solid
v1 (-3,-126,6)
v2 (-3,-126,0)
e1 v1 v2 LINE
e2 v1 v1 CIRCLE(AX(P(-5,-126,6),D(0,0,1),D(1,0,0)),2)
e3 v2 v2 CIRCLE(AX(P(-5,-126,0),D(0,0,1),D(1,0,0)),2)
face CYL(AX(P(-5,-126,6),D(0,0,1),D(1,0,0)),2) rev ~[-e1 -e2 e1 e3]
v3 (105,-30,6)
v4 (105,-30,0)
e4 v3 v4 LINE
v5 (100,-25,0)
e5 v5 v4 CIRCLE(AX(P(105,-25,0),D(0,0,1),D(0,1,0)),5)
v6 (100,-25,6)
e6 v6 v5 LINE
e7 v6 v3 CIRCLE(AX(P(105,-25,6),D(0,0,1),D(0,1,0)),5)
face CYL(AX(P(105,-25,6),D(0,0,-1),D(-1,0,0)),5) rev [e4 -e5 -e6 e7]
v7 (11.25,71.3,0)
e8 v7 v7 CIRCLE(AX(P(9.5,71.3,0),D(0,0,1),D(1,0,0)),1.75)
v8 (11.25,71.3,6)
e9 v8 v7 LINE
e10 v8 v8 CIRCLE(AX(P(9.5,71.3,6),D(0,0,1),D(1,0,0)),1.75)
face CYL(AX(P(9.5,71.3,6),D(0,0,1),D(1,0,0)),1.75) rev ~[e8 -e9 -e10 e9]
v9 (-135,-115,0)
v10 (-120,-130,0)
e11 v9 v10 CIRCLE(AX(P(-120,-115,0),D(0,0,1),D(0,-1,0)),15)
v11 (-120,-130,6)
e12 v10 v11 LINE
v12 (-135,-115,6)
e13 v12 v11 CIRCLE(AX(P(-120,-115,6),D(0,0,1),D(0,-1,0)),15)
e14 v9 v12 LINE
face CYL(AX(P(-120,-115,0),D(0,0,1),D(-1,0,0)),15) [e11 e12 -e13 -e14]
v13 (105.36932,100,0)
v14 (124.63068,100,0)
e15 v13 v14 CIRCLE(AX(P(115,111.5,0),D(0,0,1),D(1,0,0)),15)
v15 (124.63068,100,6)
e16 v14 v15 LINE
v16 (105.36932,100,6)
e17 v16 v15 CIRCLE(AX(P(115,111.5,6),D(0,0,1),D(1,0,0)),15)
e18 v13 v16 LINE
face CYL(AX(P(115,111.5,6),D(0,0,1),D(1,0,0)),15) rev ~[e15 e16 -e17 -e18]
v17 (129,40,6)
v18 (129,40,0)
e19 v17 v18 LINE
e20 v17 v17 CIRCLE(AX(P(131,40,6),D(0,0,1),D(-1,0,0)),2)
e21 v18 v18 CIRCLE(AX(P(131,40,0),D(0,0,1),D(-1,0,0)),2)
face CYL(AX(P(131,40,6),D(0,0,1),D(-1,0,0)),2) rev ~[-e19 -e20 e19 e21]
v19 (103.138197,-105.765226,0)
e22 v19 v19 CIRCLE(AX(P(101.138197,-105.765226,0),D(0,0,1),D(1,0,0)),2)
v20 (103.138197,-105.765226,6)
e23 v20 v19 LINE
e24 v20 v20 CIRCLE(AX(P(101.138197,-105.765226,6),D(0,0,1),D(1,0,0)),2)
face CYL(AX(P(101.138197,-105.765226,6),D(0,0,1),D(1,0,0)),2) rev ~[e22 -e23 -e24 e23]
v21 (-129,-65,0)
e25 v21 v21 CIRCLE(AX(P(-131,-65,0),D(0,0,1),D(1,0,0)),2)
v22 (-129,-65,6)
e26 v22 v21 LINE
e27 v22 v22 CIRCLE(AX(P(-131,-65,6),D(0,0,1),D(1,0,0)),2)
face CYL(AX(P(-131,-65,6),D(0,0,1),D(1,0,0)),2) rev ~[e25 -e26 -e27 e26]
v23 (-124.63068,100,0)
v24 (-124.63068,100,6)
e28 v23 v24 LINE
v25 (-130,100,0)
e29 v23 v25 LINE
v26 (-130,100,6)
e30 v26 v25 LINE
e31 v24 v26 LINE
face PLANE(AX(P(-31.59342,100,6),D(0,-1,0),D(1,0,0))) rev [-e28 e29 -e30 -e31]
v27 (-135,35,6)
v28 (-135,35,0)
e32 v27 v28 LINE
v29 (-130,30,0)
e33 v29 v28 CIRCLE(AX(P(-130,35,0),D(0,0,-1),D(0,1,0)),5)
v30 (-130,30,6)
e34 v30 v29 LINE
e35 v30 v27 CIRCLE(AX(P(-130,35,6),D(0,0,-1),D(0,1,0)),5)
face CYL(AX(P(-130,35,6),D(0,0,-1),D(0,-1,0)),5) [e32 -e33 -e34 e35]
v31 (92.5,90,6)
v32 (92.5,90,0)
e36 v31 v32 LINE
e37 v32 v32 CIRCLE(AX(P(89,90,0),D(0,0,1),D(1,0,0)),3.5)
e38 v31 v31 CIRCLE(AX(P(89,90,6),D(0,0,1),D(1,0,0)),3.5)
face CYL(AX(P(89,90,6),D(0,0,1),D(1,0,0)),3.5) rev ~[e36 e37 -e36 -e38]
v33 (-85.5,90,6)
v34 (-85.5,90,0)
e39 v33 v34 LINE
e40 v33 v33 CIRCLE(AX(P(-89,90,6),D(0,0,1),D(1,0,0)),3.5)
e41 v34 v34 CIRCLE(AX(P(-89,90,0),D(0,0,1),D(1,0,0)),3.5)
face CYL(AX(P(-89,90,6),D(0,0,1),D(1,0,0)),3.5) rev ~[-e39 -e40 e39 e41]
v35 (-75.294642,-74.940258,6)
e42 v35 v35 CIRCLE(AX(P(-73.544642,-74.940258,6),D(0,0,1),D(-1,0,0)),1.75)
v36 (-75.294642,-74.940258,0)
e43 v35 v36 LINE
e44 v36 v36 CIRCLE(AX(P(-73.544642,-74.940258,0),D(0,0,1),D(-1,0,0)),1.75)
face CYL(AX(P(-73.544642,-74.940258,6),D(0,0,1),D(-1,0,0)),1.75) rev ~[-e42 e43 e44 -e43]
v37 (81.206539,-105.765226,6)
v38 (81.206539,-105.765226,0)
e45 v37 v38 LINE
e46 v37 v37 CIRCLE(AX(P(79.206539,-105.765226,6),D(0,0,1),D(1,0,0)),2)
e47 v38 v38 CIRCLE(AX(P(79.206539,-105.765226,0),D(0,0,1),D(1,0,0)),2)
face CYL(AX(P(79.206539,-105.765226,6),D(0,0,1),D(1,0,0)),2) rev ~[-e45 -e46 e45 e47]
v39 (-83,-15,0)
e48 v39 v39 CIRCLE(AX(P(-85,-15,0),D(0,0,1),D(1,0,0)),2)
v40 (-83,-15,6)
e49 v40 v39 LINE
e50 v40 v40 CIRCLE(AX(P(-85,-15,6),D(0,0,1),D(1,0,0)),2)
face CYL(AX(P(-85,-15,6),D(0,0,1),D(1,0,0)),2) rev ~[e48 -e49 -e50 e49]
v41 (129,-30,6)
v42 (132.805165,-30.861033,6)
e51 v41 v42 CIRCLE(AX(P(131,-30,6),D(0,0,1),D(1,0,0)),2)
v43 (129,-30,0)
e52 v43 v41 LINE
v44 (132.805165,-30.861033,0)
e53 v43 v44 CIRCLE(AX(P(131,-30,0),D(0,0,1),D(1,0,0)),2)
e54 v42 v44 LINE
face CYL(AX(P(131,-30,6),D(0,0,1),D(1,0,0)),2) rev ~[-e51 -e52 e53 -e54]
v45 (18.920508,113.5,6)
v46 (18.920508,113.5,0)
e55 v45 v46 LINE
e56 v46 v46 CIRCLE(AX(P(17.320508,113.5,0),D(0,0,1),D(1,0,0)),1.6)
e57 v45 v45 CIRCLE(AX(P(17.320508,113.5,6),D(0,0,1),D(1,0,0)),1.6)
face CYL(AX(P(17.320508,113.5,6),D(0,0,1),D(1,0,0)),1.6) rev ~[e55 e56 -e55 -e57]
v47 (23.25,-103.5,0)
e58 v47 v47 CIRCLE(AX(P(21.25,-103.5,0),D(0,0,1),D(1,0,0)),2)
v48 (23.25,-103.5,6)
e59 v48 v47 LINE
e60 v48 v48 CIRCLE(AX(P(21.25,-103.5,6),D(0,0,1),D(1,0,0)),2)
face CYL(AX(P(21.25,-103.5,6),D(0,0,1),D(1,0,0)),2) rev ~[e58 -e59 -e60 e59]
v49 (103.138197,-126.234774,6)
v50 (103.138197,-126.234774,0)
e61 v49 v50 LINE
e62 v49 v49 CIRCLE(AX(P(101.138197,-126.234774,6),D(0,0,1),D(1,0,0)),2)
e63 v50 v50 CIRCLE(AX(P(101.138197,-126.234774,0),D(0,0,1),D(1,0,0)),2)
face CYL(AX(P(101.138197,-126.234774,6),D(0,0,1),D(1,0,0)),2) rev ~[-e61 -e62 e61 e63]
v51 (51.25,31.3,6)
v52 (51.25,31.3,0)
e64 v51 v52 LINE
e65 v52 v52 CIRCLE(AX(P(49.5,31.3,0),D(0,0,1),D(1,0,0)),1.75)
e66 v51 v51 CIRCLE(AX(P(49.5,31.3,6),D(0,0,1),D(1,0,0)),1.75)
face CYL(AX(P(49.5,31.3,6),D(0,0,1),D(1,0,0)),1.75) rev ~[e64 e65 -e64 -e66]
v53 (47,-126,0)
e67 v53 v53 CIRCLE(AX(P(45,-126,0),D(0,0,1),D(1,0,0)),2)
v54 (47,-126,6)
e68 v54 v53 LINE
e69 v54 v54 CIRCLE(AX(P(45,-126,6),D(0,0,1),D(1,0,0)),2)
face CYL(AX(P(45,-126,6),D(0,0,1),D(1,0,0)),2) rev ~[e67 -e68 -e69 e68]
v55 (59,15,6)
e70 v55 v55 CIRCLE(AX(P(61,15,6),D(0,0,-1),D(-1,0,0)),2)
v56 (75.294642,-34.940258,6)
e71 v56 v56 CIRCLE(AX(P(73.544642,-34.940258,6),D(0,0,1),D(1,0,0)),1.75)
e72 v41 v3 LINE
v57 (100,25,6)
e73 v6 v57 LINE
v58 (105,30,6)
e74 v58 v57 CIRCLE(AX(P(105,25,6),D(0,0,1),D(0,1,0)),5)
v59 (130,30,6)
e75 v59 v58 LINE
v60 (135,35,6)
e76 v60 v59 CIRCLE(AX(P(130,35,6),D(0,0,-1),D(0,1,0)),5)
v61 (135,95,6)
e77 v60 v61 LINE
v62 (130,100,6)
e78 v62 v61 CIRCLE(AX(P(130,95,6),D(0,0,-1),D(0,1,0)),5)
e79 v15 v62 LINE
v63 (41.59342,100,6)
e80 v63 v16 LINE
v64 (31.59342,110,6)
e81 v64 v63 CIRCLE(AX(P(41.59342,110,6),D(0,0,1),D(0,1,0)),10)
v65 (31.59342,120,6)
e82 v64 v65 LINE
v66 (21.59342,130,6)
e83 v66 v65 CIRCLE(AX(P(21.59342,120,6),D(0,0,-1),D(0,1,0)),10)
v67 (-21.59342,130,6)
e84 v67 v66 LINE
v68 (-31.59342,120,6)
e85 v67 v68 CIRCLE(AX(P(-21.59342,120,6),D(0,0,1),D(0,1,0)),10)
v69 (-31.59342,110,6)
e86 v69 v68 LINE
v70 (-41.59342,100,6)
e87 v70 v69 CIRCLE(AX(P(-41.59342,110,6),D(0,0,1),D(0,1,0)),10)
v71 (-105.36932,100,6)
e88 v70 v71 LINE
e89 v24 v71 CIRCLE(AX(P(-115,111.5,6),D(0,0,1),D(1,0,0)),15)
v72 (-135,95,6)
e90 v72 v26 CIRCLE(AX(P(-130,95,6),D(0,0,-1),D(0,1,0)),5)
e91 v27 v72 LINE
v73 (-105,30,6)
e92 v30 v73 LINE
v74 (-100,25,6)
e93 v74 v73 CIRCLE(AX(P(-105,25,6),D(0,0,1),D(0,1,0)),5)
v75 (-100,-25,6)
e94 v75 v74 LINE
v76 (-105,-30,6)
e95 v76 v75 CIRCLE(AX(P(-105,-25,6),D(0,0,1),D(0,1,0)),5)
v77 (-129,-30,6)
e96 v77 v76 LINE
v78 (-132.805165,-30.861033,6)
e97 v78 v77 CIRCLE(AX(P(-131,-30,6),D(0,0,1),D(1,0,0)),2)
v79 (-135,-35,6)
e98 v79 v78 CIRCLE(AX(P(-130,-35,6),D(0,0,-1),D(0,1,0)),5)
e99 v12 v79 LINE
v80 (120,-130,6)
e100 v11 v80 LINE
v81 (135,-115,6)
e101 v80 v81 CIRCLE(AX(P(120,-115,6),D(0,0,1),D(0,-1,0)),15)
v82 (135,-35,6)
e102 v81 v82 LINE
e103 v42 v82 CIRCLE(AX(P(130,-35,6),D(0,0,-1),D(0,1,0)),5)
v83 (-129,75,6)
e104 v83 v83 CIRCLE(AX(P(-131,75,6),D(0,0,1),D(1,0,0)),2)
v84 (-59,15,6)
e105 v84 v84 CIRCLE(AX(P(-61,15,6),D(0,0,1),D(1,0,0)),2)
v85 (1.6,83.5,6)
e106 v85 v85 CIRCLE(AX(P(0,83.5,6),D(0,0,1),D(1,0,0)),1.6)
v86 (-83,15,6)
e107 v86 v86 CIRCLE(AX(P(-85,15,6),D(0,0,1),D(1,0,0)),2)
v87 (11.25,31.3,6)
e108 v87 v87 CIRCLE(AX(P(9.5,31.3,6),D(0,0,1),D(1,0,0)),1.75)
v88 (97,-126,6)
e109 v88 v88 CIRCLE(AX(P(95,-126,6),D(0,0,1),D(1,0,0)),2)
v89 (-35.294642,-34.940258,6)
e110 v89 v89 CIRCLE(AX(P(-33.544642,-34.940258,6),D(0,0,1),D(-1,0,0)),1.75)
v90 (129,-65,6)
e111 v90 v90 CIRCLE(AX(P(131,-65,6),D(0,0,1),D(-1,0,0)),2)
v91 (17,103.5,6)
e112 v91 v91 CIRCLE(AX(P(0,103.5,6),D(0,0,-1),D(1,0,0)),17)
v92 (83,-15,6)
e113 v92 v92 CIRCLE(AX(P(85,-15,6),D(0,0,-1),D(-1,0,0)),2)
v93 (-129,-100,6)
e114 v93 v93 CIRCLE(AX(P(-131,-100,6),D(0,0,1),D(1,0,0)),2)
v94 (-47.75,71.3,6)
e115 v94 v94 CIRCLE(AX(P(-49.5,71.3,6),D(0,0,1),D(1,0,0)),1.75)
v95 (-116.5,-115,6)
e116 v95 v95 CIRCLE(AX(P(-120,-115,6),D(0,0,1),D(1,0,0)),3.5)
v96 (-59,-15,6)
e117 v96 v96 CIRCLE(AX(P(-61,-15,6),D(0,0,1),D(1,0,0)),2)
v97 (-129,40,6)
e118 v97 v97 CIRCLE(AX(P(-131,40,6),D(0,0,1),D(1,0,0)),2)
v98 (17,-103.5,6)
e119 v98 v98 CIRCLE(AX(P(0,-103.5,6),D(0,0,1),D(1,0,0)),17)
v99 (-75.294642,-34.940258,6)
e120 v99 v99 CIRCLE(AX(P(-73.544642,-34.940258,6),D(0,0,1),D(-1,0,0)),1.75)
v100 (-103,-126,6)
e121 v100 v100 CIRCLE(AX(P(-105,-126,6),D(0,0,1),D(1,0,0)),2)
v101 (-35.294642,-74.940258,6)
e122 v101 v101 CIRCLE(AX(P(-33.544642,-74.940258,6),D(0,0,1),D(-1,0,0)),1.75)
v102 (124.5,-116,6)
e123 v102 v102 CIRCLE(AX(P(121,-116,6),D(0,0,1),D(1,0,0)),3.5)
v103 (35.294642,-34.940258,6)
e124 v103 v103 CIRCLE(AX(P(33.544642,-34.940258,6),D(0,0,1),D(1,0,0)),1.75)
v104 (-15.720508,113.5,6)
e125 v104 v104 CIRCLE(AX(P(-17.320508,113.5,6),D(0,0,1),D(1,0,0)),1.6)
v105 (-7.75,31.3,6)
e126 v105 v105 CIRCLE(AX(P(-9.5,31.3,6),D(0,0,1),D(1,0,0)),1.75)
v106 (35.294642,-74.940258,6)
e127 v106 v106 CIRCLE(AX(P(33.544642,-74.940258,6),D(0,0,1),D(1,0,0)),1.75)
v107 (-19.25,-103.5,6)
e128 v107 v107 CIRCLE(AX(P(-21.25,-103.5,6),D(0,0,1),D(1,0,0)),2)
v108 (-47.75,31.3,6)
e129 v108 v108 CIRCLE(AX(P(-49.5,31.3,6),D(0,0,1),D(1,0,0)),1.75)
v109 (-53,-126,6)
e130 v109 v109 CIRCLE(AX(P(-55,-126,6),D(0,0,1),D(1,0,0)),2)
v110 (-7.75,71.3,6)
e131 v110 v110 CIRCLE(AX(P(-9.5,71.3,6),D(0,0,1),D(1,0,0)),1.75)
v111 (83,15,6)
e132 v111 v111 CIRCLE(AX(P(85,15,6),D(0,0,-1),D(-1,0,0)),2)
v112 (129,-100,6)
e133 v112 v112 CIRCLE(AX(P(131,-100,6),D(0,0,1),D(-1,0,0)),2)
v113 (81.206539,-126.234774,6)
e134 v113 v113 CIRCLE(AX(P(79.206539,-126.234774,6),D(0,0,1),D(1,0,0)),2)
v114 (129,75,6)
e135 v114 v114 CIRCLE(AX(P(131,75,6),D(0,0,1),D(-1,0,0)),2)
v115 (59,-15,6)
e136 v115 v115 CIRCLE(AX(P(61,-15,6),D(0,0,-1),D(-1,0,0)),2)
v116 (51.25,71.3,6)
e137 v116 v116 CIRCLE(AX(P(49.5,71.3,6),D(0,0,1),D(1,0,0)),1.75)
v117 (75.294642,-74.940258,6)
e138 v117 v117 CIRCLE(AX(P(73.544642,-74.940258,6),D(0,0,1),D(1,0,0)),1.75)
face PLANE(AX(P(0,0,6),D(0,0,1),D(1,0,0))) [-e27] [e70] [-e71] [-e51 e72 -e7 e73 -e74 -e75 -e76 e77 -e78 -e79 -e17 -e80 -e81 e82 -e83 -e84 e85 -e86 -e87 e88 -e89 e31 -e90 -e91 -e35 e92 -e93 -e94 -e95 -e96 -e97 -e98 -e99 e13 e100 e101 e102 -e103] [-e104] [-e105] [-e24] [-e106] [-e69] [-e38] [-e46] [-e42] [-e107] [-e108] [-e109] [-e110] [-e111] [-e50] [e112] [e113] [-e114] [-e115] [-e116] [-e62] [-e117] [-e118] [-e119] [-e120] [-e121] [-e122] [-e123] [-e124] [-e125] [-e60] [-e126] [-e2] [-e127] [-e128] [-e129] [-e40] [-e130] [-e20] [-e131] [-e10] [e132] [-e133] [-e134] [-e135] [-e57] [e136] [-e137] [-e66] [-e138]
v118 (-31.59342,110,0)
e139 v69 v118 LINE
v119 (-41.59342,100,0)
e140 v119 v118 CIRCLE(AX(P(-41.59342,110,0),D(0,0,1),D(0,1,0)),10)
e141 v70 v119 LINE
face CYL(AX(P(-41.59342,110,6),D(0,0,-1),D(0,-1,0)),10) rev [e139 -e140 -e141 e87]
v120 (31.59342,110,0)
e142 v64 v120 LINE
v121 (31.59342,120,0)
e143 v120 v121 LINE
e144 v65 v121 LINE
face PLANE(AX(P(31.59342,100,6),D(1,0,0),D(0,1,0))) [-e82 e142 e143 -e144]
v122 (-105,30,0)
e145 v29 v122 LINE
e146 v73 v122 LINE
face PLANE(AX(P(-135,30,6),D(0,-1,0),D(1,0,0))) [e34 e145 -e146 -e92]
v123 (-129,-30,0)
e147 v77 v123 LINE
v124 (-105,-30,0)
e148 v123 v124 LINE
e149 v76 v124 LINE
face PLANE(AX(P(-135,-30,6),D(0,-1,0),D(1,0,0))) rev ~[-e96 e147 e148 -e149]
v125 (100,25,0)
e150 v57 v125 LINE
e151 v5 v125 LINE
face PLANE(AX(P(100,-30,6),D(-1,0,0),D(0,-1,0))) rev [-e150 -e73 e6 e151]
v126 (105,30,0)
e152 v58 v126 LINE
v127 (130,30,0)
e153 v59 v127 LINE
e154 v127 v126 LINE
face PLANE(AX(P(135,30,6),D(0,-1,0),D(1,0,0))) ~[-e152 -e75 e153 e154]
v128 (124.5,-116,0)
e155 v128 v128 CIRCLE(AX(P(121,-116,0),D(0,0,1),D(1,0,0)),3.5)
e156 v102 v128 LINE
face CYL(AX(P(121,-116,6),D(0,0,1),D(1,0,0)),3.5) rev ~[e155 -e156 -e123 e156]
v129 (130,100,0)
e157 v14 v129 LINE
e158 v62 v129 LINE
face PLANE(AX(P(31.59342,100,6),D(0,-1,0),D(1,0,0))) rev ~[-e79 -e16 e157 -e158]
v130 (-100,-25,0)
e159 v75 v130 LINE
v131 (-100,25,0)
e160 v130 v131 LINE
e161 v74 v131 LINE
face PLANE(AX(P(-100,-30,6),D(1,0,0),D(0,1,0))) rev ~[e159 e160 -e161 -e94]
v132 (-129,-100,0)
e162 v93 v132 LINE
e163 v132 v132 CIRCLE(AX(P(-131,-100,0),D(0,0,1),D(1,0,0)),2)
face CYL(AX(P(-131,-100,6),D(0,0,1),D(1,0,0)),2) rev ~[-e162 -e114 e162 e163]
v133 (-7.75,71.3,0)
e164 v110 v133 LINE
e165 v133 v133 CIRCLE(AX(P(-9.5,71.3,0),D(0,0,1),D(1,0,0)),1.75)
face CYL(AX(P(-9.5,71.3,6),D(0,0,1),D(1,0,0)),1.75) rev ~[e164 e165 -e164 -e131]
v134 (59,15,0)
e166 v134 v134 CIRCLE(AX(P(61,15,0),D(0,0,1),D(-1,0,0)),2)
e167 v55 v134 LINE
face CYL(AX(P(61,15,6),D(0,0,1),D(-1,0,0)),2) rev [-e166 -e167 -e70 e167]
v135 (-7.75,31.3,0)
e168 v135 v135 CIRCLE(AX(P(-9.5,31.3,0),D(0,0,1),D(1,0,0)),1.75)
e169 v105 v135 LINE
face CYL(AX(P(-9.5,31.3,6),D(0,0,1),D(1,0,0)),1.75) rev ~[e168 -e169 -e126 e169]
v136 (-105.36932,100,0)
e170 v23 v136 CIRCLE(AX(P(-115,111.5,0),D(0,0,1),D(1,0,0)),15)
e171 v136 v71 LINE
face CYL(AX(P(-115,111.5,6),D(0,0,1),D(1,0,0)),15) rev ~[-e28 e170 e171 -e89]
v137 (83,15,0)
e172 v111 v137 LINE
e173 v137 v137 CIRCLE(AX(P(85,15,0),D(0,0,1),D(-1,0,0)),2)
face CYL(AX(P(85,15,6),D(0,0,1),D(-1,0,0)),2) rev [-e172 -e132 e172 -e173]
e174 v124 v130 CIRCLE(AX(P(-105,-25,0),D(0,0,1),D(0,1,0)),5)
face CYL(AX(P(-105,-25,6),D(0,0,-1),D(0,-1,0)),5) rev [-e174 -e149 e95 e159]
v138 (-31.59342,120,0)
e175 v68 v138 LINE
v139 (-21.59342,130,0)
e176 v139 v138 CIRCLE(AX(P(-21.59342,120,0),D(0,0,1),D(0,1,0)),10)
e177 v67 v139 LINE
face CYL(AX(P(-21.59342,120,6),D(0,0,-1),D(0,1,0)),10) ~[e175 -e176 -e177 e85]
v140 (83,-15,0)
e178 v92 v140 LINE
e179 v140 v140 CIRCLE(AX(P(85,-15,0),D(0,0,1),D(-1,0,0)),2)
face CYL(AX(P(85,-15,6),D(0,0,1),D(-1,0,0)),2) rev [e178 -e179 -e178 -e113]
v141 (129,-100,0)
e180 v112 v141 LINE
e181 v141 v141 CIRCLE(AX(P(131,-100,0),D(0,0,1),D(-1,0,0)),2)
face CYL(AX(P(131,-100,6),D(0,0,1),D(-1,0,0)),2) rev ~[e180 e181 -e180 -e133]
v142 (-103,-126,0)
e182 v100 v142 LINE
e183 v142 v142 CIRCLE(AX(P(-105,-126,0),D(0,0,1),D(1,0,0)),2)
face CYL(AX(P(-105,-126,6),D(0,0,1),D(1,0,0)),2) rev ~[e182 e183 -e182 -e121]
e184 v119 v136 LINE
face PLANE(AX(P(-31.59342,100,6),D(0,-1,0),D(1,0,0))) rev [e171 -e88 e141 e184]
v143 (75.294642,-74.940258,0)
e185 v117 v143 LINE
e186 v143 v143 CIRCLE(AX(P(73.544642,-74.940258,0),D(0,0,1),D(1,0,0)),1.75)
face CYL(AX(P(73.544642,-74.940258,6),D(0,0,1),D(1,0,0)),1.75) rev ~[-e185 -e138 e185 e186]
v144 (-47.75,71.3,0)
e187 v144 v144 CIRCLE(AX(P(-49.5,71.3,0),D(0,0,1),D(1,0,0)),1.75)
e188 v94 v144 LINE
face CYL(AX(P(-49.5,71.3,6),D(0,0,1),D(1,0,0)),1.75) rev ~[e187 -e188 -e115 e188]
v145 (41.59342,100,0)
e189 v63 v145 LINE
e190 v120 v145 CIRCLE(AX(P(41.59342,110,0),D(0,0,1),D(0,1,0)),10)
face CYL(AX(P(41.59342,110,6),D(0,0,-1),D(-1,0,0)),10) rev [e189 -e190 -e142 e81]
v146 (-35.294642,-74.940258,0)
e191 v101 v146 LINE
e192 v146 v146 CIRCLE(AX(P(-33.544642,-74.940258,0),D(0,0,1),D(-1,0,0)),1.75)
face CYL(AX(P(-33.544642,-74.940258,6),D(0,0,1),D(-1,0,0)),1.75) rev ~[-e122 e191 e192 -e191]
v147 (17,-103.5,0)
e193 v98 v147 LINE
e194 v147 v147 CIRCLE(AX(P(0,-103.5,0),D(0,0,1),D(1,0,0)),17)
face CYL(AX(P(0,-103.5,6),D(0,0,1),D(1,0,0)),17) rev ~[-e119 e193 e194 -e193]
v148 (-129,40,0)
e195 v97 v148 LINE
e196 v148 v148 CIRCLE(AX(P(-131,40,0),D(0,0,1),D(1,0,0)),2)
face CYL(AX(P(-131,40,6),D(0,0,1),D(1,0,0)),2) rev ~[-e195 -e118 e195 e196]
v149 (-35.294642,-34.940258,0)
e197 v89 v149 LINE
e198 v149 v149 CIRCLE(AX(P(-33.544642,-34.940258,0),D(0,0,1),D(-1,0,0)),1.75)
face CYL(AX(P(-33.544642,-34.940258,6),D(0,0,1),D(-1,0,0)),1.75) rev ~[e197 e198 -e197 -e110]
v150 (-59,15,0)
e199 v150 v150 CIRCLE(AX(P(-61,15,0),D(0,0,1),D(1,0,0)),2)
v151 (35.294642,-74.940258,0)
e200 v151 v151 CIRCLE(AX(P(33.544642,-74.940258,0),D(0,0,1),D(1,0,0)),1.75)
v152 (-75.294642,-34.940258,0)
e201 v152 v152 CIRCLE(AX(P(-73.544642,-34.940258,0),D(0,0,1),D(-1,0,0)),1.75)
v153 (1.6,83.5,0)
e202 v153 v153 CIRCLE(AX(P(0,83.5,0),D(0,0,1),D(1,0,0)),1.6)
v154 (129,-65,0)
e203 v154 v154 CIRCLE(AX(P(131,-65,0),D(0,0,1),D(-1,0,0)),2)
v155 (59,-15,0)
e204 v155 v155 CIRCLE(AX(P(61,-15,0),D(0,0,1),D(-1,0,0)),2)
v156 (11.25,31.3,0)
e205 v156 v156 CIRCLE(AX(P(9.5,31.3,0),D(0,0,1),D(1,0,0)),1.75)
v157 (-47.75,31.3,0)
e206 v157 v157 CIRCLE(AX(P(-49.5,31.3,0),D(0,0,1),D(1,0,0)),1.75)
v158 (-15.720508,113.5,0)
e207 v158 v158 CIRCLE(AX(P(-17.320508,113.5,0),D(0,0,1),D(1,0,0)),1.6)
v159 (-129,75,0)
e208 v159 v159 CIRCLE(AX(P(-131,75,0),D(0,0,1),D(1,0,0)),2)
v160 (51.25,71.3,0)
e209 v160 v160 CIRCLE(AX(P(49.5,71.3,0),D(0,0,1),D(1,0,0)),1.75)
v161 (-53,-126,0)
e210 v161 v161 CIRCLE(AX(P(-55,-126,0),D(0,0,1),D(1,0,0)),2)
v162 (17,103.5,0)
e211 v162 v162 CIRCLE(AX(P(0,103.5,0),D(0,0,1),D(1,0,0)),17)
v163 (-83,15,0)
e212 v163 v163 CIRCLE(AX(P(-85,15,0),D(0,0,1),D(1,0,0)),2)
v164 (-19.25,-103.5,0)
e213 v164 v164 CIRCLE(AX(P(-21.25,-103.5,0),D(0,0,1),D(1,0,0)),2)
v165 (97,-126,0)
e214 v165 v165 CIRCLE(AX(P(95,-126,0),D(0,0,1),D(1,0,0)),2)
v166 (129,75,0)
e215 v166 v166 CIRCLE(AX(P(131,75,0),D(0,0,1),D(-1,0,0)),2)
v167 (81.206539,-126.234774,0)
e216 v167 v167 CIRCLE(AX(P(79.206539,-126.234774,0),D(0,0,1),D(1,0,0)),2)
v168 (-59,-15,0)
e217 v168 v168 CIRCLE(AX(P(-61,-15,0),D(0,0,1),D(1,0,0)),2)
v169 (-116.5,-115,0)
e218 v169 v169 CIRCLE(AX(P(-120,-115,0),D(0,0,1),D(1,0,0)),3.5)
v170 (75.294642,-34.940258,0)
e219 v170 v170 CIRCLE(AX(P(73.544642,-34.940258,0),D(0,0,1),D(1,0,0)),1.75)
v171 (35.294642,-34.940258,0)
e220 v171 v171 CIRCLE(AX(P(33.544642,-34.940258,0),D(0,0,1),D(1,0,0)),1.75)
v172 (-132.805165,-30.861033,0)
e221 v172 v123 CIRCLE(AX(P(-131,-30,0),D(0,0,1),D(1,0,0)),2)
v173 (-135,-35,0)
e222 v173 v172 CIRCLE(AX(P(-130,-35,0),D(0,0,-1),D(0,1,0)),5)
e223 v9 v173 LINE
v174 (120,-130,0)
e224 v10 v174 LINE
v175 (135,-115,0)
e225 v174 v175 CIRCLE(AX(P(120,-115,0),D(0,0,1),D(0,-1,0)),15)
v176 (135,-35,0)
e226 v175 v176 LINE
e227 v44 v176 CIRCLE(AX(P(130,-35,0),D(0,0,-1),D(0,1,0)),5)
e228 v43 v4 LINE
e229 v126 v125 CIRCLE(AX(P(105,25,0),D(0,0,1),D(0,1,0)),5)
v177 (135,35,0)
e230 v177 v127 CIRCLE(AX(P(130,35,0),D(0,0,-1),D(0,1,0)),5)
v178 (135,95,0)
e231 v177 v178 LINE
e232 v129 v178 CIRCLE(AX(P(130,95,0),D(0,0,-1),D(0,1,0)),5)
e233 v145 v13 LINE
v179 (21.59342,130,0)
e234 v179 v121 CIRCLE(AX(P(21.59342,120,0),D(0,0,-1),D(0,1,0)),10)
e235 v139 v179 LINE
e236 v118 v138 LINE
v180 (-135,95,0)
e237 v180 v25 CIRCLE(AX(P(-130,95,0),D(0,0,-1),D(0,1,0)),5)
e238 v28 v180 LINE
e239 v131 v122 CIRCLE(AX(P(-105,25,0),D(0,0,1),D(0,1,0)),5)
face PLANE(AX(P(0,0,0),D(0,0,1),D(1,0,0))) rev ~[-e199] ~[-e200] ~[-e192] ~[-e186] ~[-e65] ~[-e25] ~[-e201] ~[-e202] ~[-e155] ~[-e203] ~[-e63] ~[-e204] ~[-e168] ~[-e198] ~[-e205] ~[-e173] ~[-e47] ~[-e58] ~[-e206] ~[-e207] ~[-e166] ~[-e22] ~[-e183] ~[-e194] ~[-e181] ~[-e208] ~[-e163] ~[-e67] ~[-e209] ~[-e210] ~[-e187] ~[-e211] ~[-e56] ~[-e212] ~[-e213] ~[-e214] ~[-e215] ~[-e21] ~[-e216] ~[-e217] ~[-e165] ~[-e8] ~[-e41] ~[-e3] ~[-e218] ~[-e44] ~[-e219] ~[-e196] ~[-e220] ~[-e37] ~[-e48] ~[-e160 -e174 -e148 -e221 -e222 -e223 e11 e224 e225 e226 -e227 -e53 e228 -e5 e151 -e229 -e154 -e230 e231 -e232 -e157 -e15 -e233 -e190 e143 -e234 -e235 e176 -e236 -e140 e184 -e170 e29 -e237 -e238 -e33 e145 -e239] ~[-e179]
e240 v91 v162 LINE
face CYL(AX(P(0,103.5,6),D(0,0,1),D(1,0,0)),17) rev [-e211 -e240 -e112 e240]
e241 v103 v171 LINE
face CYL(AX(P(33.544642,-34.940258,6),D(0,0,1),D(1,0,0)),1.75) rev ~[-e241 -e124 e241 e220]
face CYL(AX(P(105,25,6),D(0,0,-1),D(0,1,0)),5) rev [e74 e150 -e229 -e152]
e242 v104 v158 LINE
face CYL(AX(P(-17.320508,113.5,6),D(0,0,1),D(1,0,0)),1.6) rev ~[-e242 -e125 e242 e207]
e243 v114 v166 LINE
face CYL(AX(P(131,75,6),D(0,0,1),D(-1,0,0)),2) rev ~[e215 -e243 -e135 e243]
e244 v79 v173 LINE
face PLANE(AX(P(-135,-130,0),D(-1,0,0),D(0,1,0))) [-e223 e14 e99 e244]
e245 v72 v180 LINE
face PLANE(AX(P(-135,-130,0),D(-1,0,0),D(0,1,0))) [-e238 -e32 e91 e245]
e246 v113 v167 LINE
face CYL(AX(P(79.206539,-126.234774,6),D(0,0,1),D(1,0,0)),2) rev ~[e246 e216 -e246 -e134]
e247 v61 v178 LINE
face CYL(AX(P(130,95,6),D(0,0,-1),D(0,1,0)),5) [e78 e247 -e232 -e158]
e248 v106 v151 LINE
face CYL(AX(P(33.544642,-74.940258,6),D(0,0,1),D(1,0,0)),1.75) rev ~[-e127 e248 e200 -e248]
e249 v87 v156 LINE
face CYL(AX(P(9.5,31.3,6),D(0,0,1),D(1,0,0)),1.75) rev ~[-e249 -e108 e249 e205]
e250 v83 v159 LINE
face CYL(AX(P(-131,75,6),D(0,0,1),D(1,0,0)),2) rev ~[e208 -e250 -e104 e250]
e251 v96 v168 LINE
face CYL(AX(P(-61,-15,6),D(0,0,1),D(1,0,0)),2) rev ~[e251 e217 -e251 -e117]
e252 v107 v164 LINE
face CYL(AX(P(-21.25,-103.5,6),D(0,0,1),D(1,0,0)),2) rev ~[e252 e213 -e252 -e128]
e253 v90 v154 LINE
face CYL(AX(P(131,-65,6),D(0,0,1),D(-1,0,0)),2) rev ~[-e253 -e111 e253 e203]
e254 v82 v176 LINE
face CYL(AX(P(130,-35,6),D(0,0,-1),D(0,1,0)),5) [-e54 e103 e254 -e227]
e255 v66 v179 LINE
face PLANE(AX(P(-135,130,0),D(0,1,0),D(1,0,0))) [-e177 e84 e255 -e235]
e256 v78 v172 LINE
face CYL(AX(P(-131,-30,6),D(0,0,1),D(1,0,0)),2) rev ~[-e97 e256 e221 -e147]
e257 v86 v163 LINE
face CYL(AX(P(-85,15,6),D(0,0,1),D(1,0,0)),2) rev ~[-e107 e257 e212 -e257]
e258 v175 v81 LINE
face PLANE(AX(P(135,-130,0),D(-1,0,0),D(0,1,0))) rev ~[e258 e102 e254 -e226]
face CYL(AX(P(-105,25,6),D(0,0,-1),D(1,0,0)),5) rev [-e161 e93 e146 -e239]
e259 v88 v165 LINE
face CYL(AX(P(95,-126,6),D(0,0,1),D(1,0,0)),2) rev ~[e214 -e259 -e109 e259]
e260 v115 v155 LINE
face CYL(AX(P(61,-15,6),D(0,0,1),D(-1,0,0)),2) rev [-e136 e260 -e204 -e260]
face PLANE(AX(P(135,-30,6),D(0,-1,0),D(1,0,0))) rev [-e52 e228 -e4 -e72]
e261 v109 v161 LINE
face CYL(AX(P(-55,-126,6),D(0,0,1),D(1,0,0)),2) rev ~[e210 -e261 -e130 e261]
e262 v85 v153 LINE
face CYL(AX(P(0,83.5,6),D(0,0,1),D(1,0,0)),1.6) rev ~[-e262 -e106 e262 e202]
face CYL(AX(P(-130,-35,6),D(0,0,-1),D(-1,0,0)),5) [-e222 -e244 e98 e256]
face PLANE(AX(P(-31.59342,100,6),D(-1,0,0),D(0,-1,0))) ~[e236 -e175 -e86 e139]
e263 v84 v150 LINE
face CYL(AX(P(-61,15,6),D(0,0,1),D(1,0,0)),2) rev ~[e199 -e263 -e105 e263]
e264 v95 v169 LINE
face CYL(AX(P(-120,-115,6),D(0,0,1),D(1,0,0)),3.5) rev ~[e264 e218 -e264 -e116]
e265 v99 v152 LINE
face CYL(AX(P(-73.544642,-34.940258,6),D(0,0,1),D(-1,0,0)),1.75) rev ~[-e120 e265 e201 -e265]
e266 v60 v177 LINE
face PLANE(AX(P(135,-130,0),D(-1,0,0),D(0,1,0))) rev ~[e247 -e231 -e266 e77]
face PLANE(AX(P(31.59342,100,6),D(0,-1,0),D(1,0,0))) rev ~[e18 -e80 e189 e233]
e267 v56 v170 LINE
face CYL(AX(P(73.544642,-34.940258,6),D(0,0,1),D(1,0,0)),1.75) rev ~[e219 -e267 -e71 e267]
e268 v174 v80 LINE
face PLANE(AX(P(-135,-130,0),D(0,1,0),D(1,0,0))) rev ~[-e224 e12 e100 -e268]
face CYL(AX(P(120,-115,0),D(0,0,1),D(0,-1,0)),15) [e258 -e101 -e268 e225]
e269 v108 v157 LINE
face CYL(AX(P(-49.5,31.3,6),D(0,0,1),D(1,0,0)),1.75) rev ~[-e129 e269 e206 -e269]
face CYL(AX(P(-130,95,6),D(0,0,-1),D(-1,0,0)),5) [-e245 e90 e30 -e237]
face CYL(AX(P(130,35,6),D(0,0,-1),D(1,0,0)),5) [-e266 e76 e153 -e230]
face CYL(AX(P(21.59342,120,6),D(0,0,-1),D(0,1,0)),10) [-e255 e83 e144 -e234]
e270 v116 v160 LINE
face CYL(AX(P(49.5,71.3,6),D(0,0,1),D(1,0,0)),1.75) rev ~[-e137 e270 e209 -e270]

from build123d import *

# Parameters (mm, degrees)
SKETCH1_W            = 270
SKETCH1_H            = 260
BOSS_EXTRUDE1_DEPTH  = 6
SKETCH2_R            = 2
SKETCH2_W            = 35
SKETCH2_H            = 60
CUT_EXTRUDE1_DEPTH   = 188.512666239
SKETCH3_R            = 17
CUT_EXTRUDE2_DEPTH   = 188.512666239
SKETCH4_R            = 2
CUT_EXTRUDE3_DEPTH   = 188.512666239
SKETCH5_R            = 2
CUT_EXTRUDE4_DEPTH   = 188.512666239
FILLET1_R            = 15
SKETCH6_R            = 12.5
CUT_EXTRUDE5_DEPTH   = 188.512666239
SKETCH8_R            = 1.75
CUT_EXTRUDE6_DEPTH   = 188.512666239
SKETCH9_R            = 12.5
CUT_EXTRUDE7_DEPTH   = 188.512666239
SKETCH10_W           = 103.406579867
SKETCH10_H           = 30
CUT_EXTRUDE8_DEPTH   = 188.512666239
FILLET2_R            = 10
FILLET2_OF_MIRROR3_R = 10
SKETCH11_R           = 1.6
SKETCH11_R_2         = 3.5
CUT_EXTRUDE9_DEPTH   = 188.512666239
SKETCH12_R           = 15
CUT_EXTRUDE10_DEPTH  = 188.512666239
FILLET3_R            = 5
FILLET4_R            = 5
SKETCH13_R           = 1.75
SKETCH13_R_2         = 2
CUT_EXTRUDE11_DEPTH  = 188.512666239


with BuildPart() as part:
    # Sketch1 → Boss-Extrude1 (new body)
    with BuildSketch(Plane.XY):
        Rectangle(SKETCH1_W, SKETCH1_H)
    extrude(amount=BOSS_EXTRUDE1_DEPTH)

    # Sketch2 → Cut-Extrude1 (cut, through all)
    with BuildSketch(Plane.XY.offset(6)):
        with Locations((-85, 15)):
            Circle(SKETCH2_R)
        with Locations((-61, 15)):
            Circle(SKETCH2_R)
        with Locations((-61, -15)):
            Circle(SKETCH2_R)
        with Locations((-85, -15)):
            Circle(SKETCH2_R)
        with Locations((-117.5, 0)):
            Rectangle(SKETCH2_W, SKETCH2_H)
    cut_extrude1 = extrude(amount=-CUT_EXTRUDE1_DEPTH, mode=Mode.SUBTRACT)

    # Sketch3 → Cut-Extrude2 (cut, through all)
    with BuildSketch(Plane.XY.offset(6)):
        with Locations((0, -103.5)):
            Circle(SKETCH3_R)
    cut_extrude2 = extrude(amount=-CUT_EXTRUDE2_DEPTH, mode=Mode.SUBTRACT)

    # Mirror1: Cut-Extrude1 across plane
    add(cut_extrude1.mirror(Plane(origin=(0, 0, 0), x_dir=(0, 0, 1), z_dir=(1, 0, 0))), mode=Mode.SUBTRACT)

    # Mirror2: Cut-Extrude2 across plane
    add(cut_extrude2.mirror(Plane.ZX), mode=Mode.SUBTRACT)

    # Sketch4 → Cut-Extrude3 (cut, through all)
    with BuildSketch(Plane.XY.offset(6)):
        with Locations((21.25, -103.5)):
            Circle(SKETCH4_R)
        with Locations((-21.25, -103.5)):
            Circle(SKETCH4_R)
    extrude(amount=-CUT_EXTRUDE3_DEPTH, mode=Mode.SUBTRACT)

    # Sketch5 → Cut-Extrude4 (cut, through all)
    with BuildSketch(Plane.XY.offset(6)):
        with Locations((79.206538854, -126.234773755)):
            Circle(SKETCH5_R)
        with Locations((79.206538854, -105.765226245)):
            Circle(SKETCH5_R)
        with Locations((101.138196901, -105.765226245)):
            Circle(SKETCH5_R)
        with Locations((101.138196901, -126.234773755)):
            Circle(SKETCH5_R)
    extrude(amount=-CUT_EXTRUDE4_DEPTH, mode=Mode.SUBTRACT)

    # Fillet1
    fillet1_edges = [part.edges().sort_by_distance(p)[0] for p in [
        (135, -130, 3),
        (-135, -130, 3),
        (-135, 130, 3),
        (135, 130, 3),
    ]]
    fillet(fillet1_edges, radius=FILLET1_R)

    # Sketch6 → Cut-Extrude5 (cut, through all)
    with BuildSketch(Plane.XY.offset(6)):
        with Locations((-115, 115)):
            Circle(SKETCH6_R)
    extrude(amount=-CUT_EXTRUDE5_DEPTH, mode=Mode.SUBTRACT)

    # Sketch8 → Cut-Extrude6 (cut, through all)
    with BuildSketch(Plane.XY.offset(6)):
        with Locations((49.5, 31.3)):
            Circle(SKETCH8_R)
        with Locations((9.5, 31.3)):
            Circle(SKETCH8_R)
        with Locations((9.5, 71.3)):
            Circle(SKETCH8_R)
        with Locations((49.5, 71.3)):
            Circle(SKETCH8_R)
        with Locations((-49.5, 31.3)):
            Circle(SKETCH8_R)
        with Locations((-9.5, 31.3)):
            Circle(SKETCH8_R)
        with Locations((-49.5, 71.3)):
            Circle(SKETCH8_R)
        with Locations((-9.5, 71.3)):
            Circle(SKETCH8_R)
    extrude(amount=-CUT_EXTRUDE6_DEPTH, mode=Mode.SUBTRACT)

    # Sketch9 → Cut-Extrude7 (cut, through all)
    with BuildSketch(Plane.XY.offset(6)):
        with Locations((115, 111.5)):
            Circle(SKETCH9_R)
    extrude(amount=-CUT_EXTRUDE7_DEPTH, mode=Mode.SUBTRACT)

    # Sketch10 → Cut-Extrude8 (cut, through all)
    with BuildSketch(Plane.XY.offset(6)):
        with Locations((83.296710066, 115)):
            Rectangle(SKETCH10_W, SKETCH10_H)
    cut_extrude8 = extrude(amount=-CUT_EXTRUDE8_DEPTH, mode=Mode.SUBTRACT)

    # Fillet2
    fillet2_edges = [part.edges().sort_by_distance(p)[0] for p in [
        (31.593420133, 100, 3),
        (31.593420133, 130, 3),
    ]]
    fillet(fillet2_edges, radius=FILLET2_R)

    # Mirror3: Cut-Extrude8 across plane
    add(cut_extrude8.mirror(Plane.ZY), mode=Mode.SUBTRACT)

    # Fillet2 of Mirror3
    fillet2_of_mirror3_edges = [part.edges().sort_by_distance(p)[0] for p in [
        (-31.593420133, 100, 3),
        (-31.593420133, 130, 3),
    ]]
    fillet(fillet2_of_mirror3_edges, radius=FILLET2_OF_MIRROR3_R)

    # Sketch11 → Cut-Extrude9 (cut, through all)
    with BuildSketch(Plane.XY.offset(6)):
        with Locations((-17.320508076, 113.5)):
            Circle(SKETCH11_R)
        with Locations((17.320508076, 113.5)):
            Circle(SKETCH11_R)
        with Locations((0, 83.5)):
            Circle(SKETCH11_R)
        with Locations((89, 90)):
            Circle(SKETCH11_R_2)
        with Locations((-89, 90)):
            Circle(SKETCH11_R_2)
        with Locations((121, -116)):
            Circle(SKETCH11_R_2)
        with Locations((-120, -115)):
            Circle(SKETCH11_R_2)
    extrude(amount=-CUT_EXTRUDE9_DEPTH, mode=Mode.SUBTRACT)

    # Sketch12 → Cut-Extrude10 (cut, through all)
    with BuildSketch(Plane.XY.offset(6)):
        with Locations((115, 111.5)):
            Circle(SKETCH12_R)
        with Locations((-115, 111.5)):
            Circle(SKETCH12_R)
    extrude(amount=-CUT_EXTRUDE10_DEPTH, mode=Mode.SUBTRACT)

    # Fillet3
    fillet3_edges = [part.edges().sort_by_distance(p)[0] for p in [
        (135, 100, 3),
        (-135, 100, 3),
    ]]
    fillet(fillet3_edges, radius=FILLET3_R)

    # Fillet4
    fillet4_edges = [part.edges().sort_by_distance(p)[0] for p in [
        (-100, 30, 3),
        (-100, -30, 3),
        (-135, -30, 3),
        (-135, 30, 3),
        (100, -30, 3),
        (100, 30, 3),
        (135, 30, 3),
        (135, -30, 3),
    ]]
    fillet(fillet4_edges, radius=FILLET4_R)

    # Sketch13 → Cut-Extrude11 (cut, through all)
    with BuildSketch(Plane.XY.offset(6)):
        with Locations((33.544641935, -34.940258228)):
            Circle(SKETCH13_R)
        with Locations((73.544641935, -34.940258228)):
            Circle(SKETCH13_R)
        with Locations((73.544641935, -74.940258228)):
            Circle(SKETCH13_R)
        with Locations((33.544641935, -74.940258228)):
            Circle(SKETCH13_R)
        with Locations(Location((-33.544641935, -74.940258228, 0), (0, 0, 180))):
            Circle(SKETCH13_R)
        with Locations(Location((-73.544641935, -74.940258228, 0), (0, 0, 180))):
            Circle(SKETCH13_R)
        with Locations(Location((-73.544641935, -34.940258228, 0), (0, 0, 180))):
            Circle(SKETCH13_R)
        with Locations(Location((-33.544641935, -34.940258228, 0), (0, 0, 180))):
            Circle(SKETCH13_R)
        with Locations((-131, -100)):
            Circle(SKETCH13_R_2)
        with Locations((-131, -65)):
            Circle(SKETCH13_R_2)
        with Locations((-131, -30)):
            Circle(SKETCH13_R_2)
        with Locations((-131, 5)):
            Circle(SKETCH13_R_2)
        with Locations((-131, 40)):
            Circle(SKETCH13_R_2)
        with Locations((-131, 75)):
            Circle(SKETCH13_R_2)
        with Locations((-105, -126)):
            Circle(SKETCH13_R_2)
        with Locations((-55, -126)):
            Circle(SKETCH13_R_2)
        with Locations((-5, -126)):
            Circle(SKETCH13_R_2)
        with Locations((45, -126)):
            Circle(SKETCH13_R_2)
        with Locations((95, -126)):
            Circle(SKETCH13_R_2)
        with Locations((145, -126)):
            Circle(SKETCH13_R_2)
        with Locations((195, -126)):
            Circle(SKETCH13_R_2)
        with Locations((245, -126)):
            Circle(SKETCH13_R_2)
        with Locations((295, -126)):
            Circle(SKETCH13_R_2)
        with Locations((345, -126)):
            Circle(SKETCH13_R_2)
        with Locations((395, -126)):
            Circle(SKETCH13_R_2)
        with Locations((445, -126)):
            Circle(SKETCH13_R_2)
        with Locations((495, -126)):
            Circle(SKETCH13_R_2)
        with Locations(Location((131, 75, 0), (0, 0, 180))):
            Circle(SKETCH13_R_2)
        with Locations(Location((131, 40, 0), (0, 0, 180))):
            Circle(SKETCH13_R_2)
        with Locations((131, 5)):
            Circle(SKETCH13_R_2)
        with Locations((131, -30)):
            Circle(SKETCH13_R_2)
        with Locations(Location((131, -65, 0), (0, 0, 180))):
            Circle(SKETCH13_R_2)
        with Locations(Location((131, -100, 0), (0, 0, 180))):
            Circle(SKETCH13_R_2)
    extrude(amount=-CUT_EXTRUDE11_DEPTH, mode=Mode.SUBTRACT)


solid = part.part
